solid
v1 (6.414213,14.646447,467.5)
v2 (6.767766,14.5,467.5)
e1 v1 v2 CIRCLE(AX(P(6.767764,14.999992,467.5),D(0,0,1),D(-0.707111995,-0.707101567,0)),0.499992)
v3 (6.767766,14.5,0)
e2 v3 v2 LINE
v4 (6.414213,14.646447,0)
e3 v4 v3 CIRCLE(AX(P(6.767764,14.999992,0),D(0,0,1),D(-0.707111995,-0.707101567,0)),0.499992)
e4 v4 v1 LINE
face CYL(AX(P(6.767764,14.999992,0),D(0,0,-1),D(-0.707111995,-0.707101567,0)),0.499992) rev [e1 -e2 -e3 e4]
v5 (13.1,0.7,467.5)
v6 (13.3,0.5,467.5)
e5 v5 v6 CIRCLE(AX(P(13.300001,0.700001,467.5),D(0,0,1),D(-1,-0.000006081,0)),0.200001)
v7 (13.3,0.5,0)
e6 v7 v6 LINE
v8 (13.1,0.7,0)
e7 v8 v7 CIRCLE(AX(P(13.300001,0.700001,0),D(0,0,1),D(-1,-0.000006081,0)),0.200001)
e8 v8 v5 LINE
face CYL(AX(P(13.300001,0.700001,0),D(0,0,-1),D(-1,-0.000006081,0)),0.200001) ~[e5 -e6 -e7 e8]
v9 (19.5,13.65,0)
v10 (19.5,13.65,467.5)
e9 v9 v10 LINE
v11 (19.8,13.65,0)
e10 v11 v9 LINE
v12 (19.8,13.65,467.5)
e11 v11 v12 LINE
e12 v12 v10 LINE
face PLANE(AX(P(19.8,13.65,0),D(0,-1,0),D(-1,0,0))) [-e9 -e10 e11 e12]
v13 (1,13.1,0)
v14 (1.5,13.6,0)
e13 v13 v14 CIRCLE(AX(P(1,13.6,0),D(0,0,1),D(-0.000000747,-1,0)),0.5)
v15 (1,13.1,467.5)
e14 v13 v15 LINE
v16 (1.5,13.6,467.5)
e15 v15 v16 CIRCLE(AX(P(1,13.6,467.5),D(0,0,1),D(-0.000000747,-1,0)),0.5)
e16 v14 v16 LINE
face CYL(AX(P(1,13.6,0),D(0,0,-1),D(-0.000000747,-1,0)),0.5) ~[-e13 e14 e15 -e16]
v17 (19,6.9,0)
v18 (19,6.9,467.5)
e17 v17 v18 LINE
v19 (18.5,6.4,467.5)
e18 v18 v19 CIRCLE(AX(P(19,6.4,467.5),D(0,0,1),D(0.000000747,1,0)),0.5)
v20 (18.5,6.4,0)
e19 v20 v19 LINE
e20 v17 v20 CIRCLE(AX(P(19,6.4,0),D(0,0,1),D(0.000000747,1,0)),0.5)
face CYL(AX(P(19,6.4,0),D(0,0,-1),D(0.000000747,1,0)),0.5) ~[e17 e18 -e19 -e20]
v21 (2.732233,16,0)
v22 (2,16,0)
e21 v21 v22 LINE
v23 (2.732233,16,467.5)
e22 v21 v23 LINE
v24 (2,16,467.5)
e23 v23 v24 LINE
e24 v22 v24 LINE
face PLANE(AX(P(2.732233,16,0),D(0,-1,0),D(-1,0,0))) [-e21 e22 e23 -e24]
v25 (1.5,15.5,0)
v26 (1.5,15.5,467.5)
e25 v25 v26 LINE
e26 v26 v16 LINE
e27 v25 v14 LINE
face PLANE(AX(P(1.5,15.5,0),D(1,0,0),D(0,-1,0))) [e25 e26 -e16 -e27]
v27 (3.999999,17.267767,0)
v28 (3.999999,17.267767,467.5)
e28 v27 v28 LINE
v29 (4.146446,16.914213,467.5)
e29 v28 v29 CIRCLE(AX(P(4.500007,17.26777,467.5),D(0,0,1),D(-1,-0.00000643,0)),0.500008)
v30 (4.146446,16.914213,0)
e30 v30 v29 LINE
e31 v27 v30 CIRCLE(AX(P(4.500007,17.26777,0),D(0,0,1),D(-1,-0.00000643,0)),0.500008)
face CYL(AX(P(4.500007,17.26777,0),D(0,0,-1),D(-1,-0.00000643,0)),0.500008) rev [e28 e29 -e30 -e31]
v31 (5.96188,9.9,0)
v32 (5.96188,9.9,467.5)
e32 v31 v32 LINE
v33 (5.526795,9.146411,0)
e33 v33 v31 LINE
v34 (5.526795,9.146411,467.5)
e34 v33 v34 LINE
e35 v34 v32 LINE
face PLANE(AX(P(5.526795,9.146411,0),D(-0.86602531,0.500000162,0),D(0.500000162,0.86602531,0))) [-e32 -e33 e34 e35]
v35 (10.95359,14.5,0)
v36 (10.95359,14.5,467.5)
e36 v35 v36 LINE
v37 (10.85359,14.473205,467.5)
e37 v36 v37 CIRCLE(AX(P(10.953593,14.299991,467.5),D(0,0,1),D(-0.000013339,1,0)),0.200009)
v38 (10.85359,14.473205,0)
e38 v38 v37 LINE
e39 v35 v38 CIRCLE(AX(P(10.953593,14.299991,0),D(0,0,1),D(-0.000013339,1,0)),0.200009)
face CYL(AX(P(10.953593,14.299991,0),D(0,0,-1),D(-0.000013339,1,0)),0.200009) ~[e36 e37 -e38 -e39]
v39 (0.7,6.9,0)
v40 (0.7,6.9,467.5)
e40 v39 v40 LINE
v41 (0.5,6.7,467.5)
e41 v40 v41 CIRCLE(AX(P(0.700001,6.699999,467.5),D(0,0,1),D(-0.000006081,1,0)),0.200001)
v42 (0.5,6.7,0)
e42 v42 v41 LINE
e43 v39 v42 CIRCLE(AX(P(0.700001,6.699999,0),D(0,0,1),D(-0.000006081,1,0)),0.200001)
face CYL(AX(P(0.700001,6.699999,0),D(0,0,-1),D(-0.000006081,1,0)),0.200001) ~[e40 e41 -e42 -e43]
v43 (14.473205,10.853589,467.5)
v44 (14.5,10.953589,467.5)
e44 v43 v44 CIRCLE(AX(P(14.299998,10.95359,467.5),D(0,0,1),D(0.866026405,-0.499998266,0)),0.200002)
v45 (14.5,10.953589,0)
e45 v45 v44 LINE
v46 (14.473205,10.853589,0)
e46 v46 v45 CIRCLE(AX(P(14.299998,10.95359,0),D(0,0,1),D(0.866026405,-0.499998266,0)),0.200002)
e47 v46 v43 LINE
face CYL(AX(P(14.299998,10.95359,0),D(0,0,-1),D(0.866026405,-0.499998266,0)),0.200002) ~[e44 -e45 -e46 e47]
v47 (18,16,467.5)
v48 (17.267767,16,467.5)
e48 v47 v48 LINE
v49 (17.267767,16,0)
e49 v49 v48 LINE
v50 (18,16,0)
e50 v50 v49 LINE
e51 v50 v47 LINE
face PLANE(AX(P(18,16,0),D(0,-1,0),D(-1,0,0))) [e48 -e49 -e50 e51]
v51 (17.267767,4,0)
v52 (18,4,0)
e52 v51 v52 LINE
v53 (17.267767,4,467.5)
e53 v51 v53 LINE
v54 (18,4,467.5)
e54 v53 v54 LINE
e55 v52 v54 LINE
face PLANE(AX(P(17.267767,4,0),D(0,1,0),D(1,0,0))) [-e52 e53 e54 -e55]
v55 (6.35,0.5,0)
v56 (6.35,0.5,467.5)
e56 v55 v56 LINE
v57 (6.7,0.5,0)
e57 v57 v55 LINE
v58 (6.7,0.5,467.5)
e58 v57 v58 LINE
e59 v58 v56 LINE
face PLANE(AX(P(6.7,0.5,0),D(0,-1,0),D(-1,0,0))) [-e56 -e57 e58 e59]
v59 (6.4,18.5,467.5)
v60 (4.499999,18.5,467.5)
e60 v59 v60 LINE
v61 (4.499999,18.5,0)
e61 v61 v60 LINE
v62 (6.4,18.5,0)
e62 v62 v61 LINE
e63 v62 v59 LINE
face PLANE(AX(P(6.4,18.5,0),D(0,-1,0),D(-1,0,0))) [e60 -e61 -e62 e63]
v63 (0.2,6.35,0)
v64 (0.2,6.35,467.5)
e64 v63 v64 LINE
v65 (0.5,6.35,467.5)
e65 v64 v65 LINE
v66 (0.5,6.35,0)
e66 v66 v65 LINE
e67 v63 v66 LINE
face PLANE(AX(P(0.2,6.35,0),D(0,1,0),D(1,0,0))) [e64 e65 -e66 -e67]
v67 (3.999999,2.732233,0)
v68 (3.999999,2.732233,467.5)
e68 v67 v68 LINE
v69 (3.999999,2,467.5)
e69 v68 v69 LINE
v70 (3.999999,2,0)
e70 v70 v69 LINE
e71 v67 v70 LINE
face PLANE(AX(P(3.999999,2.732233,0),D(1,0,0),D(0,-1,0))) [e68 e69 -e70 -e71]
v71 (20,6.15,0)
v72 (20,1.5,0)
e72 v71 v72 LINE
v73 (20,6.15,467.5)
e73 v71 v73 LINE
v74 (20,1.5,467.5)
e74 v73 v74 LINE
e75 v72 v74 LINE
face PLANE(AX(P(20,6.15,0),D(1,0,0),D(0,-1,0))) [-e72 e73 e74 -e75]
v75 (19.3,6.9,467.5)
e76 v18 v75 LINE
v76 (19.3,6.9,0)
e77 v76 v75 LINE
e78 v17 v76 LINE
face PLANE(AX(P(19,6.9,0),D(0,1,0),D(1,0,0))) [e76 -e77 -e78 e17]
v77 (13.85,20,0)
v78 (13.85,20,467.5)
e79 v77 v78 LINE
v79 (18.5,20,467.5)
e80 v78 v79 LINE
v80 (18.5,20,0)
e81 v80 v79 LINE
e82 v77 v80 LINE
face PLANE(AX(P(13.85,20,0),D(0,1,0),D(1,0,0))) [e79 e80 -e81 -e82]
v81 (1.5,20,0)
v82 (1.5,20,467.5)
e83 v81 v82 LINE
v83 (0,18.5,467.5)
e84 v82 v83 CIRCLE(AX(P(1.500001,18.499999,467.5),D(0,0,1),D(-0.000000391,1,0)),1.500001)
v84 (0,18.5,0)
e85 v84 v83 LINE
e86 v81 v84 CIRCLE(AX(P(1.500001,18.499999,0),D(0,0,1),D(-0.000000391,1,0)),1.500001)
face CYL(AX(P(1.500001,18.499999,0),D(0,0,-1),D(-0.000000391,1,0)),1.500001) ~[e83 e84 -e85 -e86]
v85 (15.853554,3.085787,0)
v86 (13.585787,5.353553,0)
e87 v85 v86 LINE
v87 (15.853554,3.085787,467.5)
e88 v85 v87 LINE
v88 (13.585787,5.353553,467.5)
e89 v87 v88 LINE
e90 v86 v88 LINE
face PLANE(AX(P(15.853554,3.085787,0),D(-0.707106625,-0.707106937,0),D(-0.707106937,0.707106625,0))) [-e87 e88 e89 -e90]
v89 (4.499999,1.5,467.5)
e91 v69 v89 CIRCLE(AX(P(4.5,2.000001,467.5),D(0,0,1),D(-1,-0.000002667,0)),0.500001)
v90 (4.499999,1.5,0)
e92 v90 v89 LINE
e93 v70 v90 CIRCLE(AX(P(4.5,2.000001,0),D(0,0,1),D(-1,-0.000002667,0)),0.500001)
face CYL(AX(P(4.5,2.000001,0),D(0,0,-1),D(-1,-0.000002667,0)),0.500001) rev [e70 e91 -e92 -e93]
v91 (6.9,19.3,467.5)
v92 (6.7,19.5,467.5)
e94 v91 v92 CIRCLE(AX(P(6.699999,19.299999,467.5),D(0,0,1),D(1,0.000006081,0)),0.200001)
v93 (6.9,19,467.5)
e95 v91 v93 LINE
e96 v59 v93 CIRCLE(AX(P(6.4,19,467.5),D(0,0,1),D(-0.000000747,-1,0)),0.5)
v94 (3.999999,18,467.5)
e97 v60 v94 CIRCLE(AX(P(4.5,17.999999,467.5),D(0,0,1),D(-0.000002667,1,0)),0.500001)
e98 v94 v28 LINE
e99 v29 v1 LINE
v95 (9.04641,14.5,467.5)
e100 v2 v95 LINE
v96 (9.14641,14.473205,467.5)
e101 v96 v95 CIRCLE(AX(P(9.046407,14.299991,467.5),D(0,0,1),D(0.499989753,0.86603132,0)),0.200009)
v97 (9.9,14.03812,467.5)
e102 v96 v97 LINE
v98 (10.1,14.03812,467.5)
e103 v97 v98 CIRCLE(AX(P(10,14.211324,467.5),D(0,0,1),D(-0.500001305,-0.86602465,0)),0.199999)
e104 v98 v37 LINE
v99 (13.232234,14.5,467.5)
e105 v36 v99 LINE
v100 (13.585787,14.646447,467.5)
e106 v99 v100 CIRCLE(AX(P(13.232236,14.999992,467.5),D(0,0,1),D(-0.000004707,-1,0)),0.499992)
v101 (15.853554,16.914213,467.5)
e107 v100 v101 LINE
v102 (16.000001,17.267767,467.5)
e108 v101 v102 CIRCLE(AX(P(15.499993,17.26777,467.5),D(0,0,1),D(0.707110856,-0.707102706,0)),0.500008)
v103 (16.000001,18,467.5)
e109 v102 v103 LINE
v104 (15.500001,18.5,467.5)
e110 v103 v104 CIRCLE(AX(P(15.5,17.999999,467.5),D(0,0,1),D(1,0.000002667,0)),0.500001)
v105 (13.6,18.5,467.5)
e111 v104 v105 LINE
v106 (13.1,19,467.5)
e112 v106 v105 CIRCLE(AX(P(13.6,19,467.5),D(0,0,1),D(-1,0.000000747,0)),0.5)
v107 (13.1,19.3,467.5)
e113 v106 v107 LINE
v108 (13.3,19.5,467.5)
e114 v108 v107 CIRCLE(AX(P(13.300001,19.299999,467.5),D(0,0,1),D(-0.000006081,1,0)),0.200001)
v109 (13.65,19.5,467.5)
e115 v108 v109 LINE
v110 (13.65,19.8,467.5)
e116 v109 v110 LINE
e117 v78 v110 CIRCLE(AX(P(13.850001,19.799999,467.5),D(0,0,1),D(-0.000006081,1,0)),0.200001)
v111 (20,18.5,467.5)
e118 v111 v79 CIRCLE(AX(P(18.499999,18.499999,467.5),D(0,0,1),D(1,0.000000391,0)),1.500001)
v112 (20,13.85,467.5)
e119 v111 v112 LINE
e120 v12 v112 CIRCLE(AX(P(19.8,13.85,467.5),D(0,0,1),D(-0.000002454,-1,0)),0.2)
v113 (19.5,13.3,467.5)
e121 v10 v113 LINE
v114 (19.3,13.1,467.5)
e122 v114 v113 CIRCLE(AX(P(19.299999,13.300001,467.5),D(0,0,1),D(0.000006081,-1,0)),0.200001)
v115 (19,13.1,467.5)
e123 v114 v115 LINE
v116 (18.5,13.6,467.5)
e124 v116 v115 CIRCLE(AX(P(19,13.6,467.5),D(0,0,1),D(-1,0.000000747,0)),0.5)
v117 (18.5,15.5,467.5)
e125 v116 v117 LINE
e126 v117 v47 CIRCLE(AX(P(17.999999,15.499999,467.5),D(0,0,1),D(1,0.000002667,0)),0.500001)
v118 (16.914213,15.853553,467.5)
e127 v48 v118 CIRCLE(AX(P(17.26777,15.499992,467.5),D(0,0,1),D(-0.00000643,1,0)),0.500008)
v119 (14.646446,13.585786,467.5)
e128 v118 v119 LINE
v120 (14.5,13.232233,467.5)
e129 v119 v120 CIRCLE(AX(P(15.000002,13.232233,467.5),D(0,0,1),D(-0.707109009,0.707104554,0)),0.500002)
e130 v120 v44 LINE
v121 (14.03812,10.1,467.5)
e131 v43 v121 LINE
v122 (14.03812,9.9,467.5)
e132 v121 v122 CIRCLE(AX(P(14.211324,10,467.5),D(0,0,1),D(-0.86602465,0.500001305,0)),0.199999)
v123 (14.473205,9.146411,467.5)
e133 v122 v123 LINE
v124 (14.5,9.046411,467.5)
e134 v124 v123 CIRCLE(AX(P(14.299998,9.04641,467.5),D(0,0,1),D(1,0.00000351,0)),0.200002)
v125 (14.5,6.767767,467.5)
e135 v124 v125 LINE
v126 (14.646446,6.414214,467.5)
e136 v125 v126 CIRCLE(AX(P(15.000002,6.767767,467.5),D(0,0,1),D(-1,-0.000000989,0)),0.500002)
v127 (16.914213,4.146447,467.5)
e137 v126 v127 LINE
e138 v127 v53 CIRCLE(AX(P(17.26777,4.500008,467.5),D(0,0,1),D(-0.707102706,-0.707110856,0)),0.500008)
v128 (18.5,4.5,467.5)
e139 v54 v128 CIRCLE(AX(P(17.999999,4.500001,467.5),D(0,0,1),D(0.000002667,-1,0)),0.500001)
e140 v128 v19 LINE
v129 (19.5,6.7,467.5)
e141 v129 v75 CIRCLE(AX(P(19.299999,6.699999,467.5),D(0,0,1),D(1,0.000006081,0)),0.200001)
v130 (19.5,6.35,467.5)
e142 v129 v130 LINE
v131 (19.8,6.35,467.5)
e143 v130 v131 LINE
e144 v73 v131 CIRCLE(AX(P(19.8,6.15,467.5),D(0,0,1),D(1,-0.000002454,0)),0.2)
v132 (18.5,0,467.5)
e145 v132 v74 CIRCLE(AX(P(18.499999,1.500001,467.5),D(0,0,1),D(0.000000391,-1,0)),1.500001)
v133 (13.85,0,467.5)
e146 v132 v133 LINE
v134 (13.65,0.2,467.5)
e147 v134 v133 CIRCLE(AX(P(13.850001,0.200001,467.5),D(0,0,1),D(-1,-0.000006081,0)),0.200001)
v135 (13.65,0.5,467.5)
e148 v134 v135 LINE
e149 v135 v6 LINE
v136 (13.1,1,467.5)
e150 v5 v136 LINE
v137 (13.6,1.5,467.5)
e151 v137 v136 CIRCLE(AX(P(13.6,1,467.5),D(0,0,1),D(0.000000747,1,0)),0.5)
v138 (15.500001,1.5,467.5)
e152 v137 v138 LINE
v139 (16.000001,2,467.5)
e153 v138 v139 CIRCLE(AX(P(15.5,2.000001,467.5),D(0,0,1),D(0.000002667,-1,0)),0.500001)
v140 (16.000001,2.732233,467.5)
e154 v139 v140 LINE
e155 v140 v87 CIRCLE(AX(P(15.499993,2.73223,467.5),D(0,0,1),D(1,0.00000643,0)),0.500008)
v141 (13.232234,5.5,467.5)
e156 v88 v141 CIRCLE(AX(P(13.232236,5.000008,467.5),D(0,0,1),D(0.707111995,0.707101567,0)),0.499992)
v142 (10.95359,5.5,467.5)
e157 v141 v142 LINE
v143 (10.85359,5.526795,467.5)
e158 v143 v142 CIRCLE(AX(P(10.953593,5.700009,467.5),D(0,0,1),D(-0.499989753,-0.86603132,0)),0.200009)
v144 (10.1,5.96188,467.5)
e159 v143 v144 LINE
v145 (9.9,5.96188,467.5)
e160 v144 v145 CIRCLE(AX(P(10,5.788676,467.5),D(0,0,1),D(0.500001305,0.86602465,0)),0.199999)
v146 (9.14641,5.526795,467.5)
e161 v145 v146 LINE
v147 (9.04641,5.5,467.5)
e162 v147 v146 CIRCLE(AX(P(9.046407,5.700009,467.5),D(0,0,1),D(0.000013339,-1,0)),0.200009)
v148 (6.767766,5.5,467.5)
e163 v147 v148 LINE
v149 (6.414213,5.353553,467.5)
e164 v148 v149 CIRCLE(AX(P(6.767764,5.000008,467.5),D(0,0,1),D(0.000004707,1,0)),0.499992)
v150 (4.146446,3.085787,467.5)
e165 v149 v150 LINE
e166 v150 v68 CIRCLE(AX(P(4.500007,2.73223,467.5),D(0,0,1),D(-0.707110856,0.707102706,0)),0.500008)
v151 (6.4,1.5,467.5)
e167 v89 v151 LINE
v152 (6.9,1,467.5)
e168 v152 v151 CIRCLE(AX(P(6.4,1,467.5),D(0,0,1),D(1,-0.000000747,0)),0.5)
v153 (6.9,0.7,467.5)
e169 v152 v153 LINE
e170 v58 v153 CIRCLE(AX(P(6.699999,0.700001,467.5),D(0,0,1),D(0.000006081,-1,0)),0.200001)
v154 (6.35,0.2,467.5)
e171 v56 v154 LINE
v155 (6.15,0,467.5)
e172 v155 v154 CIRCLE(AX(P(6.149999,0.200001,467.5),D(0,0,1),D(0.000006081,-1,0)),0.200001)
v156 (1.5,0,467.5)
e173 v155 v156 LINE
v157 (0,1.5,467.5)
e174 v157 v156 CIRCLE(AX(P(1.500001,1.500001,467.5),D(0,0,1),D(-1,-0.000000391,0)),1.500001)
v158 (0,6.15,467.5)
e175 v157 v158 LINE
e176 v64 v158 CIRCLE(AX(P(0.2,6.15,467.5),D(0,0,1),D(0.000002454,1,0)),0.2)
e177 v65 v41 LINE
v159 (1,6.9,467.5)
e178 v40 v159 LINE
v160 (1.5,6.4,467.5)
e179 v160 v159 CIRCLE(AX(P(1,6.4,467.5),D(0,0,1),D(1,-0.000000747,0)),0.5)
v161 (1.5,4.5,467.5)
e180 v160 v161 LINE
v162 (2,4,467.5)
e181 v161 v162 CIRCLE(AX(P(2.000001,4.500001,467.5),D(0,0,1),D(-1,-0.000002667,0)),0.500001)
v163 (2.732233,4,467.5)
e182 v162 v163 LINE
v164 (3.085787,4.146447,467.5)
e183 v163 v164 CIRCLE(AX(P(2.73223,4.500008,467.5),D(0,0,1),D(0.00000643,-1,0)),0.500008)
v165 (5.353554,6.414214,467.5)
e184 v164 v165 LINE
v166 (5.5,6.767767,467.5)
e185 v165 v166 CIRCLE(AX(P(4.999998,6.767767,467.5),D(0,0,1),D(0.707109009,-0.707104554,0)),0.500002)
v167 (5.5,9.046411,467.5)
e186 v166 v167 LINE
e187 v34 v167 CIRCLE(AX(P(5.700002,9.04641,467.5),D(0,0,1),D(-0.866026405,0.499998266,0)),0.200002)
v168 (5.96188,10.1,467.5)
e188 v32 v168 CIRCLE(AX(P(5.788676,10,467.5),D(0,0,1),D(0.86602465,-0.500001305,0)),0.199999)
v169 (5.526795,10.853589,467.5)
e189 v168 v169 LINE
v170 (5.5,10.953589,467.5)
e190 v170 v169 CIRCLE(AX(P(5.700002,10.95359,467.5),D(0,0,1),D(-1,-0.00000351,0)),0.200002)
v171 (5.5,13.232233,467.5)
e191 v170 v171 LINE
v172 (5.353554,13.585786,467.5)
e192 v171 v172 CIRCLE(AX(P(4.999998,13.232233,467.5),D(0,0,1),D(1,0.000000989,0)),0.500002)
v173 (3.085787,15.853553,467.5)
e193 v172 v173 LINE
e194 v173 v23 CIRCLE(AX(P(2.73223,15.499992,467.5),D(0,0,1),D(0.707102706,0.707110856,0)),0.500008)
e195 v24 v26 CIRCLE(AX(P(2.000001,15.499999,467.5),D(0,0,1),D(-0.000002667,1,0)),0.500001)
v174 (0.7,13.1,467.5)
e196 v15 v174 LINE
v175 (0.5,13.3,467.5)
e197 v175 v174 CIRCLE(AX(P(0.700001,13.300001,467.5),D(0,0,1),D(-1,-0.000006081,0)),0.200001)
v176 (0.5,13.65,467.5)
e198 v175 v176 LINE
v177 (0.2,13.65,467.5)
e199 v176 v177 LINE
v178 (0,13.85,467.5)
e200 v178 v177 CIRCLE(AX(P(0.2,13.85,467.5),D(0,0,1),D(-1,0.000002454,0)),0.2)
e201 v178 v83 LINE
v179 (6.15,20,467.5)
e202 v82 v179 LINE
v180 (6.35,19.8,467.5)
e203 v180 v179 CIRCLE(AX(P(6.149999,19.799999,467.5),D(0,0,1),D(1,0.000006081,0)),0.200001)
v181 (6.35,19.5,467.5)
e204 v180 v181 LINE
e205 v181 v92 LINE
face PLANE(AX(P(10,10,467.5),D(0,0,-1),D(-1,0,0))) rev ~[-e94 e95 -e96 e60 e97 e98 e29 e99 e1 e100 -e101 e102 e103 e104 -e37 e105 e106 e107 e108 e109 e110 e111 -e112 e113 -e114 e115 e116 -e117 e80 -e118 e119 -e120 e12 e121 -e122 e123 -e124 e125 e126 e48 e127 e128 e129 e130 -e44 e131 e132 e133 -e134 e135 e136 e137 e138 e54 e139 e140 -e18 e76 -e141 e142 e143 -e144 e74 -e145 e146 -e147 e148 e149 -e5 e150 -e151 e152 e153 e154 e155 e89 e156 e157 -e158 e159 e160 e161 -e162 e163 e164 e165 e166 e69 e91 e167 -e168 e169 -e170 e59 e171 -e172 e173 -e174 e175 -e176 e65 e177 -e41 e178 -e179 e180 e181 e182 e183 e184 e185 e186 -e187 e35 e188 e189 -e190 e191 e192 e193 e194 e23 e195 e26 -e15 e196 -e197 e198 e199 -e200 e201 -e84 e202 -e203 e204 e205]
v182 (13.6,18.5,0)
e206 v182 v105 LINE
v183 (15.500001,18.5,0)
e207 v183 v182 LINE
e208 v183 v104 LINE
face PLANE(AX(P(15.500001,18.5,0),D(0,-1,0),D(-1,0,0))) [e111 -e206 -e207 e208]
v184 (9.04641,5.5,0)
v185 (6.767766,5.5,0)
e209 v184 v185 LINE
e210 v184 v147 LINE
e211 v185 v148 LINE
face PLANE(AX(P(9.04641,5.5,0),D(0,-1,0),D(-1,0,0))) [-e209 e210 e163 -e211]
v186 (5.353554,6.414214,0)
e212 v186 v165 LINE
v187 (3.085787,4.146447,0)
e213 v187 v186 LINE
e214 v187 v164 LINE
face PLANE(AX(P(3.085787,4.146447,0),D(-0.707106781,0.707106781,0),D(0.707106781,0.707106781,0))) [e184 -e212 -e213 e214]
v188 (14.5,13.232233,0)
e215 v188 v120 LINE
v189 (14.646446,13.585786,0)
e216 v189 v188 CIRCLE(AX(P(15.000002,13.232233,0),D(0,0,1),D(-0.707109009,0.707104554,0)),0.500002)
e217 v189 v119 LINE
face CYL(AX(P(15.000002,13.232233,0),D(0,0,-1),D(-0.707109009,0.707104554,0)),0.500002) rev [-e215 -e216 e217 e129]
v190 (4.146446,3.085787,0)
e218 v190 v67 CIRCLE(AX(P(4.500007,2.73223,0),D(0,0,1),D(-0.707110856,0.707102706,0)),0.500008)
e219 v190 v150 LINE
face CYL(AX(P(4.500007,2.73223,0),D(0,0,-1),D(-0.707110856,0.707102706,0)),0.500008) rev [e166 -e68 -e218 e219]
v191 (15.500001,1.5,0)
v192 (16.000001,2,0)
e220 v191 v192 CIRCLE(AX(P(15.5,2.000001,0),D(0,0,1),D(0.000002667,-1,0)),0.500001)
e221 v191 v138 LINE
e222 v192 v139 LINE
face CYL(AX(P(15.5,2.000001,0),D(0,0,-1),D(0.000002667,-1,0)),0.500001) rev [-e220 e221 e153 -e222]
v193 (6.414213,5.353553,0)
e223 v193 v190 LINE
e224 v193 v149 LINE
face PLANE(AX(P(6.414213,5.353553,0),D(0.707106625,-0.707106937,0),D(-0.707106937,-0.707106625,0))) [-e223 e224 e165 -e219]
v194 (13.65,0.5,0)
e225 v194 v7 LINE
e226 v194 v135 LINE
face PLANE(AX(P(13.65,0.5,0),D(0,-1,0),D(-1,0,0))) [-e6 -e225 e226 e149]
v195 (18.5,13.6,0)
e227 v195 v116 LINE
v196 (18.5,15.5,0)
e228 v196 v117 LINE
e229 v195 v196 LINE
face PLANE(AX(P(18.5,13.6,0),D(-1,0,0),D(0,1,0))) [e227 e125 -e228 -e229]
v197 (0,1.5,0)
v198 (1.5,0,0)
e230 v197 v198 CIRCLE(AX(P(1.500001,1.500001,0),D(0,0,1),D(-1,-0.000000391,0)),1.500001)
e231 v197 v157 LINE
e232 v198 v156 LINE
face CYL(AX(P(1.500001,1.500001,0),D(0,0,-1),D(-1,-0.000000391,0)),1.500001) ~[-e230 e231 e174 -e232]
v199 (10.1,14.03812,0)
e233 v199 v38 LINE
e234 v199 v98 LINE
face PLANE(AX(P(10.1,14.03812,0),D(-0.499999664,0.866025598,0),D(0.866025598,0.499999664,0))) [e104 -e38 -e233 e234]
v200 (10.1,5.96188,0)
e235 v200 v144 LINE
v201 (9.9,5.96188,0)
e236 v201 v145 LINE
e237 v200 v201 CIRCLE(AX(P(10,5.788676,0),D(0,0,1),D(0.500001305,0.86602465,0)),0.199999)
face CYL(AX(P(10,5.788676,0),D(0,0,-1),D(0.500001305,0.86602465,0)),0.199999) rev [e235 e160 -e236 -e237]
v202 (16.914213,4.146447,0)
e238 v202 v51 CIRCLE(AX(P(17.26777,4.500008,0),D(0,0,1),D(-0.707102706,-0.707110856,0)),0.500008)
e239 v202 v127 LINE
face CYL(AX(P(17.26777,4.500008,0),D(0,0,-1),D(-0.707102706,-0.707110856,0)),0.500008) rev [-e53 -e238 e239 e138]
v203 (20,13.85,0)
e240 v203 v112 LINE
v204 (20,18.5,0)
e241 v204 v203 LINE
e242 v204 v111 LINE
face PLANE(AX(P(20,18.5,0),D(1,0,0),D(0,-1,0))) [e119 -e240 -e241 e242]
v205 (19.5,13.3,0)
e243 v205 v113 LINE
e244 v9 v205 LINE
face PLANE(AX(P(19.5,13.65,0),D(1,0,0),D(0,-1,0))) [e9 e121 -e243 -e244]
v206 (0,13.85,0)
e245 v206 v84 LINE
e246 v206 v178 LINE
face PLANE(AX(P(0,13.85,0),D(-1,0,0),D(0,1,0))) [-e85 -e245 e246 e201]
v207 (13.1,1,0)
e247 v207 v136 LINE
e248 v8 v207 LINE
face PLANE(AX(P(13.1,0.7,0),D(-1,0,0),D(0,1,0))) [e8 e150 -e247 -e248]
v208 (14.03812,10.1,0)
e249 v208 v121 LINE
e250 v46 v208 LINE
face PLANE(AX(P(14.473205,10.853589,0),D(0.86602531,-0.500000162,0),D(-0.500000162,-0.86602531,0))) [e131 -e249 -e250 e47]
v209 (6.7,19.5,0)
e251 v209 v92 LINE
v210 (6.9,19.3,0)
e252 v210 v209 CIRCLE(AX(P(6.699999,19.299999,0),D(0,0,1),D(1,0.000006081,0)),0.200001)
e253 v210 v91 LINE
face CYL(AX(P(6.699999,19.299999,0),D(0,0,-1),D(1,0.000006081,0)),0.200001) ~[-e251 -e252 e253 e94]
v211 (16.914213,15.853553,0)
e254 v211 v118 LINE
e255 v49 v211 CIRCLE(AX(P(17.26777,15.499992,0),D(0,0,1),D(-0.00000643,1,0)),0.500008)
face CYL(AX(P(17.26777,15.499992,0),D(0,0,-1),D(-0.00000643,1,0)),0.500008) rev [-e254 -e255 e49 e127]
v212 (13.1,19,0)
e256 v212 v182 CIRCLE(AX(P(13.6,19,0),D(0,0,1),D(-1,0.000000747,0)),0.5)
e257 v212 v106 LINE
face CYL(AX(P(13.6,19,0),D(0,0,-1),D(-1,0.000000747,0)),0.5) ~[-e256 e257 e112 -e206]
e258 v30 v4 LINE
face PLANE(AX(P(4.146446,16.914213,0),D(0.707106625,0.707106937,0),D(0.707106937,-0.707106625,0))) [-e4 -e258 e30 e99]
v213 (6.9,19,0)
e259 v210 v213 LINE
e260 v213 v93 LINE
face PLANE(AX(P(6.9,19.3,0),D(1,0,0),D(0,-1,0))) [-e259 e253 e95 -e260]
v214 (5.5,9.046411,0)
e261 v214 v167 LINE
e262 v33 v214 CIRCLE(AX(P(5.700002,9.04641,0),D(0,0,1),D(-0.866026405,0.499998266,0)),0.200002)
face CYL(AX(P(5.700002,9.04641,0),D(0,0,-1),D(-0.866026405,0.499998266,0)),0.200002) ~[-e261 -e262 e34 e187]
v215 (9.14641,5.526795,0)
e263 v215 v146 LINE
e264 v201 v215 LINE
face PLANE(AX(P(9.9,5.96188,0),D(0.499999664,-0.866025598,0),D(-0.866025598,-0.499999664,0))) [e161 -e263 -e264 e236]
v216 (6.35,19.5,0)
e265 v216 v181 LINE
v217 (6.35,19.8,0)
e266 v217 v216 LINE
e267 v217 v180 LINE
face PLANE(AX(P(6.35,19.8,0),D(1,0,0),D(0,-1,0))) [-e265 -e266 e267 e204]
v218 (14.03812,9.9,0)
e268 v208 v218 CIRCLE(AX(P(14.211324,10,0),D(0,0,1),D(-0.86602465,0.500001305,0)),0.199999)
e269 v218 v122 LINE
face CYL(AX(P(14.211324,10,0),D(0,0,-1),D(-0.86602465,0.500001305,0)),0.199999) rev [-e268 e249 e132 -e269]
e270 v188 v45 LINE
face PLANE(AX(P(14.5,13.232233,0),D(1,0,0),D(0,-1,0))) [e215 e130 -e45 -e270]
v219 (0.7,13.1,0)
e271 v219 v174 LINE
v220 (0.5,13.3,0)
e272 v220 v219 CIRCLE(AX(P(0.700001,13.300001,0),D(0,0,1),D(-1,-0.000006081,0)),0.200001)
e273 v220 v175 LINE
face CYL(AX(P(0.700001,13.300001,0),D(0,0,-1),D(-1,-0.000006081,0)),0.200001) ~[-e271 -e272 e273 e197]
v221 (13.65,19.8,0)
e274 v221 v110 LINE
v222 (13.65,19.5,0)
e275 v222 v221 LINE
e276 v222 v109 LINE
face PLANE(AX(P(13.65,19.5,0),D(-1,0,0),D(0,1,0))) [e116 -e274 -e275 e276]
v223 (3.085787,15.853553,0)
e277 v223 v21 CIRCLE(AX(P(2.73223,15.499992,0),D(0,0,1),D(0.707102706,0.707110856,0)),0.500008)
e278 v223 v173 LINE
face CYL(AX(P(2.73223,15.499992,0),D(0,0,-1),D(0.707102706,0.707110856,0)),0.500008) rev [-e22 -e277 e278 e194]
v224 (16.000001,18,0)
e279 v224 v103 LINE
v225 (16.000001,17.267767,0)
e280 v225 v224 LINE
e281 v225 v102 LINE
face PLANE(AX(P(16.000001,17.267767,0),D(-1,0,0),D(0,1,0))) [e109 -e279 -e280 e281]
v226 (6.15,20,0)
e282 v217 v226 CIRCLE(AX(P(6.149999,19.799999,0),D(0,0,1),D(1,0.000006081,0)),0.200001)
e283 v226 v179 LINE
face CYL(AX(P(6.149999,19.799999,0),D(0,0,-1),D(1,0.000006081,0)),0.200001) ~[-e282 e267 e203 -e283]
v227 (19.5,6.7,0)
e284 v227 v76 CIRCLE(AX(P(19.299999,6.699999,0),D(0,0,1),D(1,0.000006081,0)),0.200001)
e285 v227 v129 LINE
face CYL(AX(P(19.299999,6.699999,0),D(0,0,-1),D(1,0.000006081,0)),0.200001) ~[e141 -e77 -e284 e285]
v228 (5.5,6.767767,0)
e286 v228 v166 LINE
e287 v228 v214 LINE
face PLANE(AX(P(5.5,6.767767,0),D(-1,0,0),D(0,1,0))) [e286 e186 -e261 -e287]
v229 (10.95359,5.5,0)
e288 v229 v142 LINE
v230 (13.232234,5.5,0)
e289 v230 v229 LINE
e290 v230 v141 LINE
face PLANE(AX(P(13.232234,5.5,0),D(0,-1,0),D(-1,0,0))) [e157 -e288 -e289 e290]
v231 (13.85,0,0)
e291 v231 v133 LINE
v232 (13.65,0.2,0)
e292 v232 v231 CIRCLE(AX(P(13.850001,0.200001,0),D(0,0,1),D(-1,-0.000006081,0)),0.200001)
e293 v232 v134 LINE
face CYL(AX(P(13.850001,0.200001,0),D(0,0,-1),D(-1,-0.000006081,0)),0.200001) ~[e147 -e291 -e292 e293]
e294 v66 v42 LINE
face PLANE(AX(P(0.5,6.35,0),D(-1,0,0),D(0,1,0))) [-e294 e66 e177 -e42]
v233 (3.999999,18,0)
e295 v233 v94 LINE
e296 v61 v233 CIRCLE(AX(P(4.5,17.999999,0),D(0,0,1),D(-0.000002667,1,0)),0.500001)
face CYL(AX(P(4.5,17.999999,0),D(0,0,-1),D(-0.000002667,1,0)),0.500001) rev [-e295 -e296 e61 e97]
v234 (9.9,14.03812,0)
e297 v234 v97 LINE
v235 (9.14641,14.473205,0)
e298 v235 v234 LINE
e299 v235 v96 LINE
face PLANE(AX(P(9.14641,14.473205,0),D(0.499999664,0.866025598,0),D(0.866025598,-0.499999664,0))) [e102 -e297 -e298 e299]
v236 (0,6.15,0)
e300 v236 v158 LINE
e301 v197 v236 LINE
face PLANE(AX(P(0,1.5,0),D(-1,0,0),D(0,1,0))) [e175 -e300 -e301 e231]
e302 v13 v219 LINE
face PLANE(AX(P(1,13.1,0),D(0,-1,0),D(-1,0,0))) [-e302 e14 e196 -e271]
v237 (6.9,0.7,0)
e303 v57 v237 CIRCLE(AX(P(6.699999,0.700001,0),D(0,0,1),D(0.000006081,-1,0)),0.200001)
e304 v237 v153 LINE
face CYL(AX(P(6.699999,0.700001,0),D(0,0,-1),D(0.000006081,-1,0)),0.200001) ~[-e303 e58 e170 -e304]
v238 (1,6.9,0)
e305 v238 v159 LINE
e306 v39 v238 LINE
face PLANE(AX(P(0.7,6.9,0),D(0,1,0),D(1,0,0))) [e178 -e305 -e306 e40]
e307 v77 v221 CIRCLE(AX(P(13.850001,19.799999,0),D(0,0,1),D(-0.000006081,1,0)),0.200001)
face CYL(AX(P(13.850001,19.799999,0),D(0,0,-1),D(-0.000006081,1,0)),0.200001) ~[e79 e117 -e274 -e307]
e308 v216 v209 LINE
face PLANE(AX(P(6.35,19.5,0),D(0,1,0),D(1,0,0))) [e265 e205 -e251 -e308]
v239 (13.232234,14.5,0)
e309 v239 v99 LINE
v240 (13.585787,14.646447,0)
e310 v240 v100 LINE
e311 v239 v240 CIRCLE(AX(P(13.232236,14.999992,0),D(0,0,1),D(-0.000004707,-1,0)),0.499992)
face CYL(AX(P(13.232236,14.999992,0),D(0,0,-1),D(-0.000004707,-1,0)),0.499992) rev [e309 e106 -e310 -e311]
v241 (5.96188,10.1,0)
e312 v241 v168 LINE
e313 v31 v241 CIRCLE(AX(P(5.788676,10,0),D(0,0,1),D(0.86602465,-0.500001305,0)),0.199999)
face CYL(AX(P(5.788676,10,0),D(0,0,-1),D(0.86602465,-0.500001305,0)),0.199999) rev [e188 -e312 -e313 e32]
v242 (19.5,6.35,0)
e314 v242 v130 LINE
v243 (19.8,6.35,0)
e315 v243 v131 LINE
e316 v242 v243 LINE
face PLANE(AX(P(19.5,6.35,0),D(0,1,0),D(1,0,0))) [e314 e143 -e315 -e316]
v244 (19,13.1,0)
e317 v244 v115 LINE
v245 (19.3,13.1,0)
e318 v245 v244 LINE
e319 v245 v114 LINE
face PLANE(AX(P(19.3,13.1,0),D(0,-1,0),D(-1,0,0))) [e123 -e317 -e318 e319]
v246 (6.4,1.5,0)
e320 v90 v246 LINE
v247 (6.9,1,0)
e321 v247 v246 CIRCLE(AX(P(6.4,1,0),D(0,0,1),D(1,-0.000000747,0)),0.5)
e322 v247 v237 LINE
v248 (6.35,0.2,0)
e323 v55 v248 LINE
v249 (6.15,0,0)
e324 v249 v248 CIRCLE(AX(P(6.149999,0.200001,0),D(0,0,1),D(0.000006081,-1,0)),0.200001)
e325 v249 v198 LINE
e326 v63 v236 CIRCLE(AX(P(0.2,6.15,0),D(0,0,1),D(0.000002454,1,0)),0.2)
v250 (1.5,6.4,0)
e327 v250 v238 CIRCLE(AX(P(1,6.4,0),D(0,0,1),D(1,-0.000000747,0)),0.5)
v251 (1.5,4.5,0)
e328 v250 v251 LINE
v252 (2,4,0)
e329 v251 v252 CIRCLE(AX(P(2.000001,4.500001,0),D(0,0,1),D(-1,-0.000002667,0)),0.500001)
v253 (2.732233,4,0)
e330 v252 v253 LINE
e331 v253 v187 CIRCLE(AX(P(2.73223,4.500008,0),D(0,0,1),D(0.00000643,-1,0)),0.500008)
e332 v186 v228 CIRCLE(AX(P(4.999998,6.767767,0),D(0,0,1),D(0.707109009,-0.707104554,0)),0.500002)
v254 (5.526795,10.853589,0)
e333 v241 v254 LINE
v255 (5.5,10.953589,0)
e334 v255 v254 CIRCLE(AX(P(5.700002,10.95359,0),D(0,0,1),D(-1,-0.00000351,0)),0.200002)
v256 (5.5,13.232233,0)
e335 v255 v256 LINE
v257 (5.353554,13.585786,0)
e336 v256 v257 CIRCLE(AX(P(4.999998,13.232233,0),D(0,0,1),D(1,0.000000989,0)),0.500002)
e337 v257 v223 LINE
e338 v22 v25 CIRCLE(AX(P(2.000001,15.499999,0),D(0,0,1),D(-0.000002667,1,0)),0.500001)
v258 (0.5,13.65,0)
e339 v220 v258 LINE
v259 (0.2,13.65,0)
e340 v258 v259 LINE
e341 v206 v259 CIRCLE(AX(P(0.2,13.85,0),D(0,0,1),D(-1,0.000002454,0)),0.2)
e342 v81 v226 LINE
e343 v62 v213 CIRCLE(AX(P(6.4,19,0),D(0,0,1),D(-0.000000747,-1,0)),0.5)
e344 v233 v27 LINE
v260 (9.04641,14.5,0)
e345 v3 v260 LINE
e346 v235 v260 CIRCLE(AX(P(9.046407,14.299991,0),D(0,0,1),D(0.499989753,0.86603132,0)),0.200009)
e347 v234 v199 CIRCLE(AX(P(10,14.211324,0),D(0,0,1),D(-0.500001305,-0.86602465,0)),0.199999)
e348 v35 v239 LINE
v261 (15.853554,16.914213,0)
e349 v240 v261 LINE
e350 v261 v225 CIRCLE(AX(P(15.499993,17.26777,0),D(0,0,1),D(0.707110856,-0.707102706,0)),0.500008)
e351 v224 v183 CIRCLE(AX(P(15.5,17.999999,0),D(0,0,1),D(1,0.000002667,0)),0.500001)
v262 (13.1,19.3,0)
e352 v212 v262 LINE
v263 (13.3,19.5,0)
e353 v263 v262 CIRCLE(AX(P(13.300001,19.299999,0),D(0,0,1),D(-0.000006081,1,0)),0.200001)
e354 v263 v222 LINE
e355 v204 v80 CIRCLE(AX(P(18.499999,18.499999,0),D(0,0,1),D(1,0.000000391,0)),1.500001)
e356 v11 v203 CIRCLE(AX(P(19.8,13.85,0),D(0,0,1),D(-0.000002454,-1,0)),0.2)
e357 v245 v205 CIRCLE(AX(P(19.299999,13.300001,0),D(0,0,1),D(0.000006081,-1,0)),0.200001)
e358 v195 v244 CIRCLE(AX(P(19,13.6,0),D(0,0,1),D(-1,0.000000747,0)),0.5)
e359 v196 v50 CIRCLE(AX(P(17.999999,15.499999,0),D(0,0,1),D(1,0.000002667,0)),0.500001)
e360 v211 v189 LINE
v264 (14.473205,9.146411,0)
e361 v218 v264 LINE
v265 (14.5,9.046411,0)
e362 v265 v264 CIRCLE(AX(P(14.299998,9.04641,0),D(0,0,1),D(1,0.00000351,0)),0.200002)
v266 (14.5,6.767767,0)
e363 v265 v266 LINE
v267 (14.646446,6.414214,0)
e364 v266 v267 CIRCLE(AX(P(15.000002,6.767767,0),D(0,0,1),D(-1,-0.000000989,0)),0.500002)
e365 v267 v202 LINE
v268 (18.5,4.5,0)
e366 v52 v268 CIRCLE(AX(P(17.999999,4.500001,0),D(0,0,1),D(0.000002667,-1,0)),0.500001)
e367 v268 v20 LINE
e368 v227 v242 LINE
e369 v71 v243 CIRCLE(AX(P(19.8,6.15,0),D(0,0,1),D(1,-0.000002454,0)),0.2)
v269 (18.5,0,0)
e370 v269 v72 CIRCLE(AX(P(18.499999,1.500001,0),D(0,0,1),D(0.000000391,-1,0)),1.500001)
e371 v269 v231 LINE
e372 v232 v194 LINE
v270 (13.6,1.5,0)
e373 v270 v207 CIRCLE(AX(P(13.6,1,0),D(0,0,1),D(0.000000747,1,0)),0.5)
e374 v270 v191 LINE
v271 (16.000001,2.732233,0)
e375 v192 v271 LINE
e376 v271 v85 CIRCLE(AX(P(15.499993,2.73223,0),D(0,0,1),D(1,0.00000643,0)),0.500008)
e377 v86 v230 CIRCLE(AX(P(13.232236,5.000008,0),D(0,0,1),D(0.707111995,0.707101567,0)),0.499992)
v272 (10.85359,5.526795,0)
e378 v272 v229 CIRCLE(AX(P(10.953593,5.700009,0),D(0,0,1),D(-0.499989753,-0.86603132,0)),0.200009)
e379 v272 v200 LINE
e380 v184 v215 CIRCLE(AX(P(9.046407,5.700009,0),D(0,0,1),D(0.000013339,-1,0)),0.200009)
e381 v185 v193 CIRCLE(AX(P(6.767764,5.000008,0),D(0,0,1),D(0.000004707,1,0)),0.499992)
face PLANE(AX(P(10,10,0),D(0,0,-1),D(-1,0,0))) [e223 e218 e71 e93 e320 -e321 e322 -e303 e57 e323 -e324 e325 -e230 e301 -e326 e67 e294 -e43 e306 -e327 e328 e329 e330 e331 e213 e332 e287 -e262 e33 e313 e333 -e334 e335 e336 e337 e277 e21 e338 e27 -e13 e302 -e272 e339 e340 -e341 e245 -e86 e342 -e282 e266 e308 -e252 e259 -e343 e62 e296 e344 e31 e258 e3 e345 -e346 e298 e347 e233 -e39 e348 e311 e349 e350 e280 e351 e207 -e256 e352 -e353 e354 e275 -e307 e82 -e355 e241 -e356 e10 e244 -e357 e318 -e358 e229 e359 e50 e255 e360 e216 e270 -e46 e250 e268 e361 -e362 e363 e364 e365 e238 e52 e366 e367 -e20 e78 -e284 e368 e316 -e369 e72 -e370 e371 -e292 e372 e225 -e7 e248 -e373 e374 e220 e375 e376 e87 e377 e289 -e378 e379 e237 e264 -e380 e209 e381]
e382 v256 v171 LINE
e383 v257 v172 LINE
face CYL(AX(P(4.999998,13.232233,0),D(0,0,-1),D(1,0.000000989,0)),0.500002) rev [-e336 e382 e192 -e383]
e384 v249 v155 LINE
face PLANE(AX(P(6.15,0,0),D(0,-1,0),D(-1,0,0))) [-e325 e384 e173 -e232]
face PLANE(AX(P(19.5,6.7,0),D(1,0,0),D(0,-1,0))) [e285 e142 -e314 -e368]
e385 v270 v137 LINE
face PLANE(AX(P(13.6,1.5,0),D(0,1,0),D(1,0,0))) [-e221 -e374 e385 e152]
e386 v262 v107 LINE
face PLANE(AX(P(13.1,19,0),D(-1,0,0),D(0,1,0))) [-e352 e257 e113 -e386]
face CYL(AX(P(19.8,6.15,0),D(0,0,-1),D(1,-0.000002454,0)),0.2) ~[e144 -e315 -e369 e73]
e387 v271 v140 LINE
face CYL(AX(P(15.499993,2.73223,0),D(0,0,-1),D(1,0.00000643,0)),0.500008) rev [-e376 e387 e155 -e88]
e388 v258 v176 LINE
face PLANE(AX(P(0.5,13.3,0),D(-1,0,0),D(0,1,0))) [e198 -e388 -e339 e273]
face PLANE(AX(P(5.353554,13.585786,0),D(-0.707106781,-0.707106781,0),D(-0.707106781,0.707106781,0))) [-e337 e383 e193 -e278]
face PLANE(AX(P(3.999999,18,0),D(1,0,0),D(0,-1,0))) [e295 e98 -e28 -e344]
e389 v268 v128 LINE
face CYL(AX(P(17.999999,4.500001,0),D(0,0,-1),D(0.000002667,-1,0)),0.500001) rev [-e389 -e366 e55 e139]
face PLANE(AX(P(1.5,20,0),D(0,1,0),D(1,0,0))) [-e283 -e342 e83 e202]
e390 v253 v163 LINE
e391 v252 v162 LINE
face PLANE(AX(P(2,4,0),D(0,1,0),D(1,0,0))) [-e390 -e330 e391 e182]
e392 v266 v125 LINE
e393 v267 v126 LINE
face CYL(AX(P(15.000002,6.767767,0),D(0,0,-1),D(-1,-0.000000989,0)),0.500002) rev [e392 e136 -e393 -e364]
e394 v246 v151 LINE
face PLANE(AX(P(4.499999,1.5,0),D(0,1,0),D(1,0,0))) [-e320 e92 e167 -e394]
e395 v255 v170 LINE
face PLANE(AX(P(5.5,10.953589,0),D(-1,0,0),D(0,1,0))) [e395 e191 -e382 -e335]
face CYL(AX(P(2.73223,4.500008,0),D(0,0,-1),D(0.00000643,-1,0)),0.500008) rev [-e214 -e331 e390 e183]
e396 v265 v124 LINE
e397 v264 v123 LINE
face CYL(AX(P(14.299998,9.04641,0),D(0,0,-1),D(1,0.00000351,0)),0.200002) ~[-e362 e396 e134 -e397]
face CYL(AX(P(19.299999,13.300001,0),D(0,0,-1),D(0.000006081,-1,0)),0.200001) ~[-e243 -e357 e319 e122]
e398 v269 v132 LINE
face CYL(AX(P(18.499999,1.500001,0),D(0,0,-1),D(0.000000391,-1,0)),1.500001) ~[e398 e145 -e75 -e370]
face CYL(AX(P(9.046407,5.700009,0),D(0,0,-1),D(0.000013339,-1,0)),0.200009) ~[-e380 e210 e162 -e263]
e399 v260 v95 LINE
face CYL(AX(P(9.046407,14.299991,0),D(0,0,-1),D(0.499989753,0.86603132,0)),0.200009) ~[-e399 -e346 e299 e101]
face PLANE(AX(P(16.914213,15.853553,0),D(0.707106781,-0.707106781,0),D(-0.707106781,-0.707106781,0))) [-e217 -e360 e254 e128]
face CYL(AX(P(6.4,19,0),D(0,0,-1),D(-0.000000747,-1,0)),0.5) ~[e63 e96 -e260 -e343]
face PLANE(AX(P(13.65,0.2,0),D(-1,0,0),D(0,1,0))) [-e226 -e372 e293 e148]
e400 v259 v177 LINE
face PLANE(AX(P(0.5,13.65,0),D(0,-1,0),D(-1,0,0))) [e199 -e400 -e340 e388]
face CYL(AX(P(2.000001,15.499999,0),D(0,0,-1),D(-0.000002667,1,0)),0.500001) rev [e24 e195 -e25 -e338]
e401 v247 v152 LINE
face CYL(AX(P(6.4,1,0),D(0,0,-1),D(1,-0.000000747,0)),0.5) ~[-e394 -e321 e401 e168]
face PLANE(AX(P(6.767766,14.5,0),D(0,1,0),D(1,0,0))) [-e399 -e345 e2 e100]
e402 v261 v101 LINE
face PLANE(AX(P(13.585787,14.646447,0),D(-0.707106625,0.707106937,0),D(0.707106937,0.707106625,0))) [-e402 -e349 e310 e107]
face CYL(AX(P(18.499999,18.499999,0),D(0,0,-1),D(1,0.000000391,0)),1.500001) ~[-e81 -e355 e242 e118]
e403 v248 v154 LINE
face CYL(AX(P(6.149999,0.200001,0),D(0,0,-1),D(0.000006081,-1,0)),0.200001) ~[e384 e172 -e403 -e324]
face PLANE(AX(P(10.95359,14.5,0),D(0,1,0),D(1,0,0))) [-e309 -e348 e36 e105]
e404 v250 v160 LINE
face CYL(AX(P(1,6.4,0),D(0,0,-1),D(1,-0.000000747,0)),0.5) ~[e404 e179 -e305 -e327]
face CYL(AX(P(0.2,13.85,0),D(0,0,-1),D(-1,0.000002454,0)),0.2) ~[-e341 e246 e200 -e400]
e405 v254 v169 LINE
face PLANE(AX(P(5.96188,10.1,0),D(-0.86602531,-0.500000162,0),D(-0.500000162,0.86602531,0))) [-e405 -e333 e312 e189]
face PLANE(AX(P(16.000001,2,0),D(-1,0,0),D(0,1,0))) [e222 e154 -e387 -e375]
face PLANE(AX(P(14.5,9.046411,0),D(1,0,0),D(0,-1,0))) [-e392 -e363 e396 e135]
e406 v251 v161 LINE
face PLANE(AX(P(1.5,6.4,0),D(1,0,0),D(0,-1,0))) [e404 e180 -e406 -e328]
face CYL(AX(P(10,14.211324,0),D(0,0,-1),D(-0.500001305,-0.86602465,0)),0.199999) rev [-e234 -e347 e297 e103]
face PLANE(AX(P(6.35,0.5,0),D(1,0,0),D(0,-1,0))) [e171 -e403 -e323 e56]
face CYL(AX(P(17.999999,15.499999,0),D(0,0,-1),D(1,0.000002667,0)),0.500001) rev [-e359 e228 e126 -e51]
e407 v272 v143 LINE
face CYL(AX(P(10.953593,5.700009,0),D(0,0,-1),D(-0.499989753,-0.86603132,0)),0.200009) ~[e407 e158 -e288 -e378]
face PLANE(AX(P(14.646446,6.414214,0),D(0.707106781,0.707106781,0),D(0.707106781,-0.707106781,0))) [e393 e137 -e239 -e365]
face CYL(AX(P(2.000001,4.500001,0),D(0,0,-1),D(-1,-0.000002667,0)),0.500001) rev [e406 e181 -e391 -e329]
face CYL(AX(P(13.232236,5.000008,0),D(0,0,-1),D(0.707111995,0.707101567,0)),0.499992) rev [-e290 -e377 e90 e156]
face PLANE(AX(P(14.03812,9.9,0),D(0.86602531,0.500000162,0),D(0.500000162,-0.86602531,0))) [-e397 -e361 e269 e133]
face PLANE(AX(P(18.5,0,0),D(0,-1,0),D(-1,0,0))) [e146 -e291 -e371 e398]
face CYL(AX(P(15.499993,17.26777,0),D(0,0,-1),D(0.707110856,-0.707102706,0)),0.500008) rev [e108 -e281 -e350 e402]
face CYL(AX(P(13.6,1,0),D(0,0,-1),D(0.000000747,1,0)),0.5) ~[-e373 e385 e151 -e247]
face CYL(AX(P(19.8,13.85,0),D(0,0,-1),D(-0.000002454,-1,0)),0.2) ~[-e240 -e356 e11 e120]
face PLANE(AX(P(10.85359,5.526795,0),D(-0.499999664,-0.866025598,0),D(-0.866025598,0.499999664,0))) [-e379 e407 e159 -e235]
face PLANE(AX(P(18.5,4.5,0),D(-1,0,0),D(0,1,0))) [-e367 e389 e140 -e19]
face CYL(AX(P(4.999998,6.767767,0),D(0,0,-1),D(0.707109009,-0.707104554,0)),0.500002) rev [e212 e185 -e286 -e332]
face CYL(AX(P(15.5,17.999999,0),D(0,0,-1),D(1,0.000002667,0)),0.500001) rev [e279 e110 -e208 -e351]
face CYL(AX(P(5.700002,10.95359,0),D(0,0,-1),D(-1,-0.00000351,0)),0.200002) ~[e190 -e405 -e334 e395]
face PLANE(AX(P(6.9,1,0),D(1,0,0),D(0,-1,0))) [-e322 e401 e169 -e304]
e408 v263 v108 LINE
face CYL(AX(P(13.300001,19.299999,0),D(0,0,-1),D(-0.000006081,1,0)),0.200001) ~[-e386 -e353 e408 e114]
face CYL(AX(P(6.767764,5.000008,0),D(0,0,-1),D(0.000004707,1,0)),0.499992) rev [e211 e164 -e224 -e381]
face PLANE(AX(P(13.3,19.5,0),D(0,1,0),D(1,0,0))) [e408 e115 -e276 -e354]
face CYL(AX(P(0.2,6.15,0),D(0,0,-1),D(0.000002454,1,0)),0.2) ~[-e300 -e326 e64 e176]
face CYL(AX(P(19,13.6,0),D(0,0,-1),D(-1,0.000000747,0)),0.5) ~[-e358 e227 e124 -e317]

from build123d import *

# Parameters (mm, degrees)
PAD_DEPTH    = 467.5
POCKET_DEPTH = 467.501


with BuildPart() as pad:
    # Sketch → Pad (new body)
    with BuildSketch(Plane(origin=(1.5, 0, 0), x_dir=(1, 0, 0), z_dir=(0, 0, 1))):
        with BuildLine():
            Line((0, 20), (4.65, 20))
            ThreePointArc((4.85, 19.8), (4.791421, 19.941421), (4.65, 20))
            Line((4.85, 19.8), (4.85, 19.5))
            Line((4.85, 19.5), (5.2, 19.5))
            ThreePointArc((5.4, 19.3), (5.341421, 19.441421), (5.2, 19.5))
            Line((5.4, 19.3), (5.4, 19))
            ThreePointArc((4.9, 18.5), (5.253553, 18.646446), (5.4, 19))
            Line((4.9, 18.5), (2.999999, 18.5))
            ThreePointArc((2.999999, 18.5), (2.646446, 18.353553), (2.499999, 18))
            Line((2.499999, 18), (2.499999, 17.267767))
            ThreePointArc((2.499999, 17.267767), (2.53806, 17.076425), (2.646446, 16.914213))
            Line((2.646446, 16.914213), (4.914213, 14.646447))
            ThreePointArc((4.914213, 14.646447), (5.076424, 14.53806), (5.267766, 14.5))
            Line((5.267766, 14.5), (7.54641, 14.5))
            ThreePointArc((7.64641, 14.473205), (7.598173, 14.493185), (7.54641, 14.5))
            Line((7.64641, 14.473205), (8.4, 14.03812))
            ThreePointArc((8.4, 14.03812), (8.5, 14.011325), (8.6, 14.03812))
            Line((8.6, 14.03812), (9.35359, 14.473205))
            ThreePointArc((9.45359, 14.5), (9.401827, 14.493185), (9.35359, 14.473205))
            Line((9.45359, 14.5), (11.732234, 14.5))
            ThreePointArc((11.732234, 14.5), (11.923576, 14.53806), (12.085787, 14.646447))
            Line((12.085787, 14.646447), (14.353554, 16.914213))
            ThreePointArc((14.353554, 16.914213), (14.46194, 17.076425), (14.500001, 17.267767))
            Line((14.500001, 17.267767), (14.500001, 18))
            ThreePointArc((14.500001, 18), (14.353554, 18.353553), (14.000001, 18.5))
            Line((14.000001, 18.5), (12.1, 18.5))
            ThreePointArc((11.6, 19), (11.746447, 18.646446), (12.1, 18.5))
            Line((11.6, 19), (11.6, 19.3))
            ThreePointArc((11.8, 19.5), (11.658579, 19.441421), (11.6, 19.3))
            Line((11.8, 19.5), (12.15, 19.5))
            Line((12.15, 19.5), (12.15, 19.8))
            ThreePointArc((12.35, 20), (12.208579, 19.941421), (12.15, 19.8))
            Line((12.35, 20), (17, 20))
            ThreePointArc((18.5, 18.5), (18.06066, 19.56066), (17, 20))
            Line((18.5, 18.5), (18.5, 13.85))
            ThreePointArc((18.3, 13.65), (18.441421, 13.708578), (18.5, 13.85))
            Line((18.3, 13.65), (18, 13.65))
            Line((18, 13.65), (18, 13.3))
            ThreePointArc((17.8, 13.1), (17.941421, 13.158579), (18, 13.3))
            Line((17.8, 13.1), (17.5, 13.1))
            ThreePointArc((17, 13.6), (17.146446, 13.246447), (17.5, 13.1))
            Line((17, 13.6), (17, 15.5))
            ThreePointArc((17, 15.5), (16.853553, 15.853553), (16.5, 16))
            Line((16.5, 16), (15.767767, 16))
            ThreePointArc((15.767767, 16), (15.576425, 15.961939), (15.414213, 15.853553))
            Line((15.414213, 15.853553), (13.146446, 13.585786))
            ThreePointArc((13.146446, 13.585786), (13.03806, 13.423574), (13, 13.232233))
            Line((13, 13.232233), (13, 10.953589))
            ThreePointArc((12.973205, 10.853589), (12.993185, 10.901825), (13, 10.953589))
            Line((12.973205, 10.853589), (12.53812, 10.1))
            ThreePointArc((12.53812, 10.1), (12.511325, 10), (12.53812, 9.9))
            Line((12.53812, 9.9), (12.973205, 9.146411))
            ThreePointArc((13, 9.046411), (12.993185, 9.098175), (12.973205, 9.146411))
            Line((13, 9.046411), (13, 6.767767))
            ThreePointArc((13, 6.767767), (13.03806, 6.576426), (13.146446, 6.414214))
            Line((13.146446, 6.414214), (15.414213, 4.146447))
            ThreePointArc((15.414213, 4.146447), (15.576425, 4.038061), (15.767767, 4))
            Line((15.767767, 4), (16.5, 4))
            ThreePointArc((16.5, 4), (16.853553, 4.146447), (17, 4.5))
            Line((17, 4.5), (17, 6.4))
            ThreePointArc((17.5, 6.9), (17.146446, 6.753553), (17, 6.4))
            Line((17.5, 6.9), (17.8, 6.9))
            ThreePointArc((18, 6.7), (17.941421, 6.841421), (17.8, 6.9))
            Line((18, 6.7), (18, 6.35))
            Line((18, 6.35), (18.3, 6.35))
            ThreePointArc((18.5, 6.15), (18.441421, 6.291422), (18.3, 6.35))
            Line((18.5, 6.15), (18.5, 1.5))
            ThreePointArc((17, 0), (18.06066, 0.43934), (18.5, 1.5))
            Line((17, 0), (12.35, 0))
            ThreePointArc((12.15, 0.2), (12.208579, 0.058579), (12.35, 0))
            Line((12.15, 0.2), (12.15, 0.5))
            Line((12.15, 0.5), (11.8, 0.5))
            ThreePointArc((11.6, 0.7), (11.658579, 0.558579), (11.8, 0.5))
            Line((11.6, 0.7), (11.6, 1))
            ThreePointArc((12.1, 1.5), (11.746447, 1.353554), (11.6, 1))
            Line((12.1, 1.5), (14.000001, 1.5))
            ThreePointArc((14.000001, 1.5), (14.353554, 1.646447), (14.500001, 2))
            Line((14.500001, 2), (14.500001, 2.732233))
            ThreePointArc((14.500001, 2.732233), (14.46194, 2.923575), (14.353554, 3.085787))
            Line((14.353554, 3.085787), (12.085787, 5.353553))
            ThreePointArc((12.085787, 5.353553), (11.923576, 5.46194), (11.732234, 5.5))
            Line((11.732234, 5.5), (9.45359, 5.5))
            ThreePointArc((9.35359, 5.526795), (9.401827, 5.506815), (9.45359, 5.5))
            Line((9.35359, 5.526795), (8.6, 5.96188))
            ThreePointArc((8.6, 5.96188), (8.5, 5.988675), (8.4, 5.96188))
            Line((8.4, 5.96188), (7.64641, 5.526795))
            ThreePointArc((7.54641, 5.5), (7.598173, 5.506815), (7.64641, 5.526795))
            Line((7.54641, 5.5), (5.267766, 5.5))
            ThreePointArc((5.267766, 5.5), (5.076424, 5.46194), (4.914213, 5.353553))
            Line((4.914213, 5.353553), (2.646446, 3.085787))
            ThreePointArc((2.646446, 3.085787), (2.53806, 2.923575), (2.499999, 2.732233))
            Line((2.499999, 2.732233), (2.499999, 2))
            ThreePointArc((2.499999, 2), (2.646446, 1.646447), (2.999999, 1.5))
            Line((2.999999, 1.5), (4.9, 1.5))
            ThreePointArc((5.4, 1), (5.253553, 1.353554), (4.9, 1.5))
            Line((5.4, 1), (5.4, 0.7))
            ThreePointArc((5.2, 0.5), (5.341421, 0.558579), (5.4, 0.7))
            Line((5.2, 0.5), (4.85, 0.5))
            Line((4.85, 0.5), (4.85, 0.2))
            ThreePointArc((4.65, 0), (4.791421, 0.058579), (4.85, 0.2))
            Line((4.65, 0), (0, 0))
            ThreePointArc((-1.5, 1.5), (-1.06066, 0.43934), (0, 0))
            Line((-1.5, 1.5), (-1.5, 6.15))
            ThreePointArc((-1.3, 6.35), (-1.441421, 6.291422), (-1.5, 6.15))
            Line((-1.3, 6.35), (-1, 6.35))
            Line((-1, 6.35), (-1, 6.7))
            ThreePointArc((-0.8, 6.9), (-0.941421, 6.841421), (-1, 6.7))
            Line((-0.8, 6.9), (-0.5, 6.9))
            ThreePointArc((0, 6.4), (-0.146446, 6.753553), (-0.5, 6.9))
            Line((0, 6.4), (0, 4.5))
            ThreePointArc((0, 4.5), (0.146447, 4.146447), (0.5, 4))
            Line((0.5, 4), (1.232233, 4))
            ThreePointArc((1.232233, 4), (1.423575, 4.038061), (1.585787, 4.146447))
            Line((1.585787, 4.146447), (3.853554, 6.414214))
            ThreePointArc((3.853554, 6.414214), (3.96194, 6.576426), (4, 6.767767))
            Line((4, 6.767767), (4, 9.046411))
            ThreePointArc((4.026795, 9.146411), (4.006815, 9.098175), (4, 9.046411))
            Line((4.026795, 9.146411), (4.46188, 9.9))
            ThreePointArc((4.46188, 9.9), (4.488675, 10), (4.46188, 10.1))
            Line((4.46188, 10.1), (4.026795, 10.853589))
            ThreePointArc((4, 10.953589), (4.006815, 10.901825), (4.026795, 10.853589))
            Line((4, 10.953589), (4, 13.232233))
            ThreePointArc((4, 13.232233), (3.96194, 13.423574), (3.853554, 13.585786))
            Line((3.853554, 13.585786), (1.585787, 15.853553))
            ThreePointArc((1.585787, 15.853553), (1.423575, 15.961939), (1.232233, 16))
            Line((1.232233, 16), (0.5, 16))
            ThreePointArc((0.5, 16), (0.146447, 15.853553), (0, 15.5))
            Line((0, 15.5), (0, 13.6))
            ThreePointArc((-0.5, 13.1), (-0.146446, 13.246447), (0, 13.6))
            Line((-0.5, 13.1), (-0.8, 13.1))
            ThreePointArc((-1, 13.3), (-0.941421, 13.158579), (-0.8, 13.1))
            Line((-1, 13.3), (-1, 13.65))
            Line((-1, 13.65), (-1.3, 13.65))
            ThreePointArc((-1.5, 13.85), (-1.441421, 13.708578), (-1.3, 13.65))
            Line((-1.5, 13.85), (-1.5, 18.5))
            ThreePointArc((0, 20), (-1.06066, 19.56066), (-1.5, 18.5))
        make_face()
    extrude(amount=PAD_DEPTH)


with BuildPart() as fusion:
    # Pocket base: copy of Pad
    add(pad.part)

    # Sketch001 → Pocket (cut, through all)
    with BuildSketch(Plane(origin=(1.5, 0, 467.5), x_dir=(1, 0, 0), z_dir=(0, 0, 1))):
        with BuildLine():
            ThreePointArc((6.586105, 12.989641), (5.988263, 12.50841), (5.507825, 11.909931))
            Line((6.054705, 11.258185), (5.507825, 11.909931))
            ThreePointArc((6.054705, 11.258185), (5.75, 10), (6.054705, 8.741815))
            Line((5.507825, 8.090069), (6.054705, 8.741815))
            ThreePointArc((5.507825, 8.090069), (5.988263, 7.49159), (6.586105, 7.010359))
            Line((7.241815, 7.554705), (6.586105, 7.010359))
            ThreePointArc((7.241815, 7.554705), (8.5, 7.25), (9.758185, 7.554705))
            Line((10.413895, 7.010359), (9.758185, 7.554705))
            ThreePointArc((10.413895, 7.010359), (11.011737, 7.49159), (11.492175, 8.090069))
            Line((10.945295, 8.741815), (11.492175, 8.090069))
            ThreePointArc((10.945295, 8.741815), (11.25, 10), (10.945295, 11.258185))
            Line((11.492175, 11.909931), (10.945295, 11.258185))
            ThreePointArc((11.492175, 11.909931), (11.011737, 12.50841), (10.413895, 12.989641))
            Line((9.758185, 12.445295), (10.413895, 12.989641))
            ThreePointArc((9.758185, 12.445295), (8.5, 12.75), (7.241815, 12.445295))
            Line((6.586105, 12.989641), (7.241815, 12.445295))
        make_face()
    extrude(amount=-POCKET_DEPTH, mode=Mode.SUBTRACT)

    # Fusion: union Pad
    add(pad.part)


solid = fusion.part
